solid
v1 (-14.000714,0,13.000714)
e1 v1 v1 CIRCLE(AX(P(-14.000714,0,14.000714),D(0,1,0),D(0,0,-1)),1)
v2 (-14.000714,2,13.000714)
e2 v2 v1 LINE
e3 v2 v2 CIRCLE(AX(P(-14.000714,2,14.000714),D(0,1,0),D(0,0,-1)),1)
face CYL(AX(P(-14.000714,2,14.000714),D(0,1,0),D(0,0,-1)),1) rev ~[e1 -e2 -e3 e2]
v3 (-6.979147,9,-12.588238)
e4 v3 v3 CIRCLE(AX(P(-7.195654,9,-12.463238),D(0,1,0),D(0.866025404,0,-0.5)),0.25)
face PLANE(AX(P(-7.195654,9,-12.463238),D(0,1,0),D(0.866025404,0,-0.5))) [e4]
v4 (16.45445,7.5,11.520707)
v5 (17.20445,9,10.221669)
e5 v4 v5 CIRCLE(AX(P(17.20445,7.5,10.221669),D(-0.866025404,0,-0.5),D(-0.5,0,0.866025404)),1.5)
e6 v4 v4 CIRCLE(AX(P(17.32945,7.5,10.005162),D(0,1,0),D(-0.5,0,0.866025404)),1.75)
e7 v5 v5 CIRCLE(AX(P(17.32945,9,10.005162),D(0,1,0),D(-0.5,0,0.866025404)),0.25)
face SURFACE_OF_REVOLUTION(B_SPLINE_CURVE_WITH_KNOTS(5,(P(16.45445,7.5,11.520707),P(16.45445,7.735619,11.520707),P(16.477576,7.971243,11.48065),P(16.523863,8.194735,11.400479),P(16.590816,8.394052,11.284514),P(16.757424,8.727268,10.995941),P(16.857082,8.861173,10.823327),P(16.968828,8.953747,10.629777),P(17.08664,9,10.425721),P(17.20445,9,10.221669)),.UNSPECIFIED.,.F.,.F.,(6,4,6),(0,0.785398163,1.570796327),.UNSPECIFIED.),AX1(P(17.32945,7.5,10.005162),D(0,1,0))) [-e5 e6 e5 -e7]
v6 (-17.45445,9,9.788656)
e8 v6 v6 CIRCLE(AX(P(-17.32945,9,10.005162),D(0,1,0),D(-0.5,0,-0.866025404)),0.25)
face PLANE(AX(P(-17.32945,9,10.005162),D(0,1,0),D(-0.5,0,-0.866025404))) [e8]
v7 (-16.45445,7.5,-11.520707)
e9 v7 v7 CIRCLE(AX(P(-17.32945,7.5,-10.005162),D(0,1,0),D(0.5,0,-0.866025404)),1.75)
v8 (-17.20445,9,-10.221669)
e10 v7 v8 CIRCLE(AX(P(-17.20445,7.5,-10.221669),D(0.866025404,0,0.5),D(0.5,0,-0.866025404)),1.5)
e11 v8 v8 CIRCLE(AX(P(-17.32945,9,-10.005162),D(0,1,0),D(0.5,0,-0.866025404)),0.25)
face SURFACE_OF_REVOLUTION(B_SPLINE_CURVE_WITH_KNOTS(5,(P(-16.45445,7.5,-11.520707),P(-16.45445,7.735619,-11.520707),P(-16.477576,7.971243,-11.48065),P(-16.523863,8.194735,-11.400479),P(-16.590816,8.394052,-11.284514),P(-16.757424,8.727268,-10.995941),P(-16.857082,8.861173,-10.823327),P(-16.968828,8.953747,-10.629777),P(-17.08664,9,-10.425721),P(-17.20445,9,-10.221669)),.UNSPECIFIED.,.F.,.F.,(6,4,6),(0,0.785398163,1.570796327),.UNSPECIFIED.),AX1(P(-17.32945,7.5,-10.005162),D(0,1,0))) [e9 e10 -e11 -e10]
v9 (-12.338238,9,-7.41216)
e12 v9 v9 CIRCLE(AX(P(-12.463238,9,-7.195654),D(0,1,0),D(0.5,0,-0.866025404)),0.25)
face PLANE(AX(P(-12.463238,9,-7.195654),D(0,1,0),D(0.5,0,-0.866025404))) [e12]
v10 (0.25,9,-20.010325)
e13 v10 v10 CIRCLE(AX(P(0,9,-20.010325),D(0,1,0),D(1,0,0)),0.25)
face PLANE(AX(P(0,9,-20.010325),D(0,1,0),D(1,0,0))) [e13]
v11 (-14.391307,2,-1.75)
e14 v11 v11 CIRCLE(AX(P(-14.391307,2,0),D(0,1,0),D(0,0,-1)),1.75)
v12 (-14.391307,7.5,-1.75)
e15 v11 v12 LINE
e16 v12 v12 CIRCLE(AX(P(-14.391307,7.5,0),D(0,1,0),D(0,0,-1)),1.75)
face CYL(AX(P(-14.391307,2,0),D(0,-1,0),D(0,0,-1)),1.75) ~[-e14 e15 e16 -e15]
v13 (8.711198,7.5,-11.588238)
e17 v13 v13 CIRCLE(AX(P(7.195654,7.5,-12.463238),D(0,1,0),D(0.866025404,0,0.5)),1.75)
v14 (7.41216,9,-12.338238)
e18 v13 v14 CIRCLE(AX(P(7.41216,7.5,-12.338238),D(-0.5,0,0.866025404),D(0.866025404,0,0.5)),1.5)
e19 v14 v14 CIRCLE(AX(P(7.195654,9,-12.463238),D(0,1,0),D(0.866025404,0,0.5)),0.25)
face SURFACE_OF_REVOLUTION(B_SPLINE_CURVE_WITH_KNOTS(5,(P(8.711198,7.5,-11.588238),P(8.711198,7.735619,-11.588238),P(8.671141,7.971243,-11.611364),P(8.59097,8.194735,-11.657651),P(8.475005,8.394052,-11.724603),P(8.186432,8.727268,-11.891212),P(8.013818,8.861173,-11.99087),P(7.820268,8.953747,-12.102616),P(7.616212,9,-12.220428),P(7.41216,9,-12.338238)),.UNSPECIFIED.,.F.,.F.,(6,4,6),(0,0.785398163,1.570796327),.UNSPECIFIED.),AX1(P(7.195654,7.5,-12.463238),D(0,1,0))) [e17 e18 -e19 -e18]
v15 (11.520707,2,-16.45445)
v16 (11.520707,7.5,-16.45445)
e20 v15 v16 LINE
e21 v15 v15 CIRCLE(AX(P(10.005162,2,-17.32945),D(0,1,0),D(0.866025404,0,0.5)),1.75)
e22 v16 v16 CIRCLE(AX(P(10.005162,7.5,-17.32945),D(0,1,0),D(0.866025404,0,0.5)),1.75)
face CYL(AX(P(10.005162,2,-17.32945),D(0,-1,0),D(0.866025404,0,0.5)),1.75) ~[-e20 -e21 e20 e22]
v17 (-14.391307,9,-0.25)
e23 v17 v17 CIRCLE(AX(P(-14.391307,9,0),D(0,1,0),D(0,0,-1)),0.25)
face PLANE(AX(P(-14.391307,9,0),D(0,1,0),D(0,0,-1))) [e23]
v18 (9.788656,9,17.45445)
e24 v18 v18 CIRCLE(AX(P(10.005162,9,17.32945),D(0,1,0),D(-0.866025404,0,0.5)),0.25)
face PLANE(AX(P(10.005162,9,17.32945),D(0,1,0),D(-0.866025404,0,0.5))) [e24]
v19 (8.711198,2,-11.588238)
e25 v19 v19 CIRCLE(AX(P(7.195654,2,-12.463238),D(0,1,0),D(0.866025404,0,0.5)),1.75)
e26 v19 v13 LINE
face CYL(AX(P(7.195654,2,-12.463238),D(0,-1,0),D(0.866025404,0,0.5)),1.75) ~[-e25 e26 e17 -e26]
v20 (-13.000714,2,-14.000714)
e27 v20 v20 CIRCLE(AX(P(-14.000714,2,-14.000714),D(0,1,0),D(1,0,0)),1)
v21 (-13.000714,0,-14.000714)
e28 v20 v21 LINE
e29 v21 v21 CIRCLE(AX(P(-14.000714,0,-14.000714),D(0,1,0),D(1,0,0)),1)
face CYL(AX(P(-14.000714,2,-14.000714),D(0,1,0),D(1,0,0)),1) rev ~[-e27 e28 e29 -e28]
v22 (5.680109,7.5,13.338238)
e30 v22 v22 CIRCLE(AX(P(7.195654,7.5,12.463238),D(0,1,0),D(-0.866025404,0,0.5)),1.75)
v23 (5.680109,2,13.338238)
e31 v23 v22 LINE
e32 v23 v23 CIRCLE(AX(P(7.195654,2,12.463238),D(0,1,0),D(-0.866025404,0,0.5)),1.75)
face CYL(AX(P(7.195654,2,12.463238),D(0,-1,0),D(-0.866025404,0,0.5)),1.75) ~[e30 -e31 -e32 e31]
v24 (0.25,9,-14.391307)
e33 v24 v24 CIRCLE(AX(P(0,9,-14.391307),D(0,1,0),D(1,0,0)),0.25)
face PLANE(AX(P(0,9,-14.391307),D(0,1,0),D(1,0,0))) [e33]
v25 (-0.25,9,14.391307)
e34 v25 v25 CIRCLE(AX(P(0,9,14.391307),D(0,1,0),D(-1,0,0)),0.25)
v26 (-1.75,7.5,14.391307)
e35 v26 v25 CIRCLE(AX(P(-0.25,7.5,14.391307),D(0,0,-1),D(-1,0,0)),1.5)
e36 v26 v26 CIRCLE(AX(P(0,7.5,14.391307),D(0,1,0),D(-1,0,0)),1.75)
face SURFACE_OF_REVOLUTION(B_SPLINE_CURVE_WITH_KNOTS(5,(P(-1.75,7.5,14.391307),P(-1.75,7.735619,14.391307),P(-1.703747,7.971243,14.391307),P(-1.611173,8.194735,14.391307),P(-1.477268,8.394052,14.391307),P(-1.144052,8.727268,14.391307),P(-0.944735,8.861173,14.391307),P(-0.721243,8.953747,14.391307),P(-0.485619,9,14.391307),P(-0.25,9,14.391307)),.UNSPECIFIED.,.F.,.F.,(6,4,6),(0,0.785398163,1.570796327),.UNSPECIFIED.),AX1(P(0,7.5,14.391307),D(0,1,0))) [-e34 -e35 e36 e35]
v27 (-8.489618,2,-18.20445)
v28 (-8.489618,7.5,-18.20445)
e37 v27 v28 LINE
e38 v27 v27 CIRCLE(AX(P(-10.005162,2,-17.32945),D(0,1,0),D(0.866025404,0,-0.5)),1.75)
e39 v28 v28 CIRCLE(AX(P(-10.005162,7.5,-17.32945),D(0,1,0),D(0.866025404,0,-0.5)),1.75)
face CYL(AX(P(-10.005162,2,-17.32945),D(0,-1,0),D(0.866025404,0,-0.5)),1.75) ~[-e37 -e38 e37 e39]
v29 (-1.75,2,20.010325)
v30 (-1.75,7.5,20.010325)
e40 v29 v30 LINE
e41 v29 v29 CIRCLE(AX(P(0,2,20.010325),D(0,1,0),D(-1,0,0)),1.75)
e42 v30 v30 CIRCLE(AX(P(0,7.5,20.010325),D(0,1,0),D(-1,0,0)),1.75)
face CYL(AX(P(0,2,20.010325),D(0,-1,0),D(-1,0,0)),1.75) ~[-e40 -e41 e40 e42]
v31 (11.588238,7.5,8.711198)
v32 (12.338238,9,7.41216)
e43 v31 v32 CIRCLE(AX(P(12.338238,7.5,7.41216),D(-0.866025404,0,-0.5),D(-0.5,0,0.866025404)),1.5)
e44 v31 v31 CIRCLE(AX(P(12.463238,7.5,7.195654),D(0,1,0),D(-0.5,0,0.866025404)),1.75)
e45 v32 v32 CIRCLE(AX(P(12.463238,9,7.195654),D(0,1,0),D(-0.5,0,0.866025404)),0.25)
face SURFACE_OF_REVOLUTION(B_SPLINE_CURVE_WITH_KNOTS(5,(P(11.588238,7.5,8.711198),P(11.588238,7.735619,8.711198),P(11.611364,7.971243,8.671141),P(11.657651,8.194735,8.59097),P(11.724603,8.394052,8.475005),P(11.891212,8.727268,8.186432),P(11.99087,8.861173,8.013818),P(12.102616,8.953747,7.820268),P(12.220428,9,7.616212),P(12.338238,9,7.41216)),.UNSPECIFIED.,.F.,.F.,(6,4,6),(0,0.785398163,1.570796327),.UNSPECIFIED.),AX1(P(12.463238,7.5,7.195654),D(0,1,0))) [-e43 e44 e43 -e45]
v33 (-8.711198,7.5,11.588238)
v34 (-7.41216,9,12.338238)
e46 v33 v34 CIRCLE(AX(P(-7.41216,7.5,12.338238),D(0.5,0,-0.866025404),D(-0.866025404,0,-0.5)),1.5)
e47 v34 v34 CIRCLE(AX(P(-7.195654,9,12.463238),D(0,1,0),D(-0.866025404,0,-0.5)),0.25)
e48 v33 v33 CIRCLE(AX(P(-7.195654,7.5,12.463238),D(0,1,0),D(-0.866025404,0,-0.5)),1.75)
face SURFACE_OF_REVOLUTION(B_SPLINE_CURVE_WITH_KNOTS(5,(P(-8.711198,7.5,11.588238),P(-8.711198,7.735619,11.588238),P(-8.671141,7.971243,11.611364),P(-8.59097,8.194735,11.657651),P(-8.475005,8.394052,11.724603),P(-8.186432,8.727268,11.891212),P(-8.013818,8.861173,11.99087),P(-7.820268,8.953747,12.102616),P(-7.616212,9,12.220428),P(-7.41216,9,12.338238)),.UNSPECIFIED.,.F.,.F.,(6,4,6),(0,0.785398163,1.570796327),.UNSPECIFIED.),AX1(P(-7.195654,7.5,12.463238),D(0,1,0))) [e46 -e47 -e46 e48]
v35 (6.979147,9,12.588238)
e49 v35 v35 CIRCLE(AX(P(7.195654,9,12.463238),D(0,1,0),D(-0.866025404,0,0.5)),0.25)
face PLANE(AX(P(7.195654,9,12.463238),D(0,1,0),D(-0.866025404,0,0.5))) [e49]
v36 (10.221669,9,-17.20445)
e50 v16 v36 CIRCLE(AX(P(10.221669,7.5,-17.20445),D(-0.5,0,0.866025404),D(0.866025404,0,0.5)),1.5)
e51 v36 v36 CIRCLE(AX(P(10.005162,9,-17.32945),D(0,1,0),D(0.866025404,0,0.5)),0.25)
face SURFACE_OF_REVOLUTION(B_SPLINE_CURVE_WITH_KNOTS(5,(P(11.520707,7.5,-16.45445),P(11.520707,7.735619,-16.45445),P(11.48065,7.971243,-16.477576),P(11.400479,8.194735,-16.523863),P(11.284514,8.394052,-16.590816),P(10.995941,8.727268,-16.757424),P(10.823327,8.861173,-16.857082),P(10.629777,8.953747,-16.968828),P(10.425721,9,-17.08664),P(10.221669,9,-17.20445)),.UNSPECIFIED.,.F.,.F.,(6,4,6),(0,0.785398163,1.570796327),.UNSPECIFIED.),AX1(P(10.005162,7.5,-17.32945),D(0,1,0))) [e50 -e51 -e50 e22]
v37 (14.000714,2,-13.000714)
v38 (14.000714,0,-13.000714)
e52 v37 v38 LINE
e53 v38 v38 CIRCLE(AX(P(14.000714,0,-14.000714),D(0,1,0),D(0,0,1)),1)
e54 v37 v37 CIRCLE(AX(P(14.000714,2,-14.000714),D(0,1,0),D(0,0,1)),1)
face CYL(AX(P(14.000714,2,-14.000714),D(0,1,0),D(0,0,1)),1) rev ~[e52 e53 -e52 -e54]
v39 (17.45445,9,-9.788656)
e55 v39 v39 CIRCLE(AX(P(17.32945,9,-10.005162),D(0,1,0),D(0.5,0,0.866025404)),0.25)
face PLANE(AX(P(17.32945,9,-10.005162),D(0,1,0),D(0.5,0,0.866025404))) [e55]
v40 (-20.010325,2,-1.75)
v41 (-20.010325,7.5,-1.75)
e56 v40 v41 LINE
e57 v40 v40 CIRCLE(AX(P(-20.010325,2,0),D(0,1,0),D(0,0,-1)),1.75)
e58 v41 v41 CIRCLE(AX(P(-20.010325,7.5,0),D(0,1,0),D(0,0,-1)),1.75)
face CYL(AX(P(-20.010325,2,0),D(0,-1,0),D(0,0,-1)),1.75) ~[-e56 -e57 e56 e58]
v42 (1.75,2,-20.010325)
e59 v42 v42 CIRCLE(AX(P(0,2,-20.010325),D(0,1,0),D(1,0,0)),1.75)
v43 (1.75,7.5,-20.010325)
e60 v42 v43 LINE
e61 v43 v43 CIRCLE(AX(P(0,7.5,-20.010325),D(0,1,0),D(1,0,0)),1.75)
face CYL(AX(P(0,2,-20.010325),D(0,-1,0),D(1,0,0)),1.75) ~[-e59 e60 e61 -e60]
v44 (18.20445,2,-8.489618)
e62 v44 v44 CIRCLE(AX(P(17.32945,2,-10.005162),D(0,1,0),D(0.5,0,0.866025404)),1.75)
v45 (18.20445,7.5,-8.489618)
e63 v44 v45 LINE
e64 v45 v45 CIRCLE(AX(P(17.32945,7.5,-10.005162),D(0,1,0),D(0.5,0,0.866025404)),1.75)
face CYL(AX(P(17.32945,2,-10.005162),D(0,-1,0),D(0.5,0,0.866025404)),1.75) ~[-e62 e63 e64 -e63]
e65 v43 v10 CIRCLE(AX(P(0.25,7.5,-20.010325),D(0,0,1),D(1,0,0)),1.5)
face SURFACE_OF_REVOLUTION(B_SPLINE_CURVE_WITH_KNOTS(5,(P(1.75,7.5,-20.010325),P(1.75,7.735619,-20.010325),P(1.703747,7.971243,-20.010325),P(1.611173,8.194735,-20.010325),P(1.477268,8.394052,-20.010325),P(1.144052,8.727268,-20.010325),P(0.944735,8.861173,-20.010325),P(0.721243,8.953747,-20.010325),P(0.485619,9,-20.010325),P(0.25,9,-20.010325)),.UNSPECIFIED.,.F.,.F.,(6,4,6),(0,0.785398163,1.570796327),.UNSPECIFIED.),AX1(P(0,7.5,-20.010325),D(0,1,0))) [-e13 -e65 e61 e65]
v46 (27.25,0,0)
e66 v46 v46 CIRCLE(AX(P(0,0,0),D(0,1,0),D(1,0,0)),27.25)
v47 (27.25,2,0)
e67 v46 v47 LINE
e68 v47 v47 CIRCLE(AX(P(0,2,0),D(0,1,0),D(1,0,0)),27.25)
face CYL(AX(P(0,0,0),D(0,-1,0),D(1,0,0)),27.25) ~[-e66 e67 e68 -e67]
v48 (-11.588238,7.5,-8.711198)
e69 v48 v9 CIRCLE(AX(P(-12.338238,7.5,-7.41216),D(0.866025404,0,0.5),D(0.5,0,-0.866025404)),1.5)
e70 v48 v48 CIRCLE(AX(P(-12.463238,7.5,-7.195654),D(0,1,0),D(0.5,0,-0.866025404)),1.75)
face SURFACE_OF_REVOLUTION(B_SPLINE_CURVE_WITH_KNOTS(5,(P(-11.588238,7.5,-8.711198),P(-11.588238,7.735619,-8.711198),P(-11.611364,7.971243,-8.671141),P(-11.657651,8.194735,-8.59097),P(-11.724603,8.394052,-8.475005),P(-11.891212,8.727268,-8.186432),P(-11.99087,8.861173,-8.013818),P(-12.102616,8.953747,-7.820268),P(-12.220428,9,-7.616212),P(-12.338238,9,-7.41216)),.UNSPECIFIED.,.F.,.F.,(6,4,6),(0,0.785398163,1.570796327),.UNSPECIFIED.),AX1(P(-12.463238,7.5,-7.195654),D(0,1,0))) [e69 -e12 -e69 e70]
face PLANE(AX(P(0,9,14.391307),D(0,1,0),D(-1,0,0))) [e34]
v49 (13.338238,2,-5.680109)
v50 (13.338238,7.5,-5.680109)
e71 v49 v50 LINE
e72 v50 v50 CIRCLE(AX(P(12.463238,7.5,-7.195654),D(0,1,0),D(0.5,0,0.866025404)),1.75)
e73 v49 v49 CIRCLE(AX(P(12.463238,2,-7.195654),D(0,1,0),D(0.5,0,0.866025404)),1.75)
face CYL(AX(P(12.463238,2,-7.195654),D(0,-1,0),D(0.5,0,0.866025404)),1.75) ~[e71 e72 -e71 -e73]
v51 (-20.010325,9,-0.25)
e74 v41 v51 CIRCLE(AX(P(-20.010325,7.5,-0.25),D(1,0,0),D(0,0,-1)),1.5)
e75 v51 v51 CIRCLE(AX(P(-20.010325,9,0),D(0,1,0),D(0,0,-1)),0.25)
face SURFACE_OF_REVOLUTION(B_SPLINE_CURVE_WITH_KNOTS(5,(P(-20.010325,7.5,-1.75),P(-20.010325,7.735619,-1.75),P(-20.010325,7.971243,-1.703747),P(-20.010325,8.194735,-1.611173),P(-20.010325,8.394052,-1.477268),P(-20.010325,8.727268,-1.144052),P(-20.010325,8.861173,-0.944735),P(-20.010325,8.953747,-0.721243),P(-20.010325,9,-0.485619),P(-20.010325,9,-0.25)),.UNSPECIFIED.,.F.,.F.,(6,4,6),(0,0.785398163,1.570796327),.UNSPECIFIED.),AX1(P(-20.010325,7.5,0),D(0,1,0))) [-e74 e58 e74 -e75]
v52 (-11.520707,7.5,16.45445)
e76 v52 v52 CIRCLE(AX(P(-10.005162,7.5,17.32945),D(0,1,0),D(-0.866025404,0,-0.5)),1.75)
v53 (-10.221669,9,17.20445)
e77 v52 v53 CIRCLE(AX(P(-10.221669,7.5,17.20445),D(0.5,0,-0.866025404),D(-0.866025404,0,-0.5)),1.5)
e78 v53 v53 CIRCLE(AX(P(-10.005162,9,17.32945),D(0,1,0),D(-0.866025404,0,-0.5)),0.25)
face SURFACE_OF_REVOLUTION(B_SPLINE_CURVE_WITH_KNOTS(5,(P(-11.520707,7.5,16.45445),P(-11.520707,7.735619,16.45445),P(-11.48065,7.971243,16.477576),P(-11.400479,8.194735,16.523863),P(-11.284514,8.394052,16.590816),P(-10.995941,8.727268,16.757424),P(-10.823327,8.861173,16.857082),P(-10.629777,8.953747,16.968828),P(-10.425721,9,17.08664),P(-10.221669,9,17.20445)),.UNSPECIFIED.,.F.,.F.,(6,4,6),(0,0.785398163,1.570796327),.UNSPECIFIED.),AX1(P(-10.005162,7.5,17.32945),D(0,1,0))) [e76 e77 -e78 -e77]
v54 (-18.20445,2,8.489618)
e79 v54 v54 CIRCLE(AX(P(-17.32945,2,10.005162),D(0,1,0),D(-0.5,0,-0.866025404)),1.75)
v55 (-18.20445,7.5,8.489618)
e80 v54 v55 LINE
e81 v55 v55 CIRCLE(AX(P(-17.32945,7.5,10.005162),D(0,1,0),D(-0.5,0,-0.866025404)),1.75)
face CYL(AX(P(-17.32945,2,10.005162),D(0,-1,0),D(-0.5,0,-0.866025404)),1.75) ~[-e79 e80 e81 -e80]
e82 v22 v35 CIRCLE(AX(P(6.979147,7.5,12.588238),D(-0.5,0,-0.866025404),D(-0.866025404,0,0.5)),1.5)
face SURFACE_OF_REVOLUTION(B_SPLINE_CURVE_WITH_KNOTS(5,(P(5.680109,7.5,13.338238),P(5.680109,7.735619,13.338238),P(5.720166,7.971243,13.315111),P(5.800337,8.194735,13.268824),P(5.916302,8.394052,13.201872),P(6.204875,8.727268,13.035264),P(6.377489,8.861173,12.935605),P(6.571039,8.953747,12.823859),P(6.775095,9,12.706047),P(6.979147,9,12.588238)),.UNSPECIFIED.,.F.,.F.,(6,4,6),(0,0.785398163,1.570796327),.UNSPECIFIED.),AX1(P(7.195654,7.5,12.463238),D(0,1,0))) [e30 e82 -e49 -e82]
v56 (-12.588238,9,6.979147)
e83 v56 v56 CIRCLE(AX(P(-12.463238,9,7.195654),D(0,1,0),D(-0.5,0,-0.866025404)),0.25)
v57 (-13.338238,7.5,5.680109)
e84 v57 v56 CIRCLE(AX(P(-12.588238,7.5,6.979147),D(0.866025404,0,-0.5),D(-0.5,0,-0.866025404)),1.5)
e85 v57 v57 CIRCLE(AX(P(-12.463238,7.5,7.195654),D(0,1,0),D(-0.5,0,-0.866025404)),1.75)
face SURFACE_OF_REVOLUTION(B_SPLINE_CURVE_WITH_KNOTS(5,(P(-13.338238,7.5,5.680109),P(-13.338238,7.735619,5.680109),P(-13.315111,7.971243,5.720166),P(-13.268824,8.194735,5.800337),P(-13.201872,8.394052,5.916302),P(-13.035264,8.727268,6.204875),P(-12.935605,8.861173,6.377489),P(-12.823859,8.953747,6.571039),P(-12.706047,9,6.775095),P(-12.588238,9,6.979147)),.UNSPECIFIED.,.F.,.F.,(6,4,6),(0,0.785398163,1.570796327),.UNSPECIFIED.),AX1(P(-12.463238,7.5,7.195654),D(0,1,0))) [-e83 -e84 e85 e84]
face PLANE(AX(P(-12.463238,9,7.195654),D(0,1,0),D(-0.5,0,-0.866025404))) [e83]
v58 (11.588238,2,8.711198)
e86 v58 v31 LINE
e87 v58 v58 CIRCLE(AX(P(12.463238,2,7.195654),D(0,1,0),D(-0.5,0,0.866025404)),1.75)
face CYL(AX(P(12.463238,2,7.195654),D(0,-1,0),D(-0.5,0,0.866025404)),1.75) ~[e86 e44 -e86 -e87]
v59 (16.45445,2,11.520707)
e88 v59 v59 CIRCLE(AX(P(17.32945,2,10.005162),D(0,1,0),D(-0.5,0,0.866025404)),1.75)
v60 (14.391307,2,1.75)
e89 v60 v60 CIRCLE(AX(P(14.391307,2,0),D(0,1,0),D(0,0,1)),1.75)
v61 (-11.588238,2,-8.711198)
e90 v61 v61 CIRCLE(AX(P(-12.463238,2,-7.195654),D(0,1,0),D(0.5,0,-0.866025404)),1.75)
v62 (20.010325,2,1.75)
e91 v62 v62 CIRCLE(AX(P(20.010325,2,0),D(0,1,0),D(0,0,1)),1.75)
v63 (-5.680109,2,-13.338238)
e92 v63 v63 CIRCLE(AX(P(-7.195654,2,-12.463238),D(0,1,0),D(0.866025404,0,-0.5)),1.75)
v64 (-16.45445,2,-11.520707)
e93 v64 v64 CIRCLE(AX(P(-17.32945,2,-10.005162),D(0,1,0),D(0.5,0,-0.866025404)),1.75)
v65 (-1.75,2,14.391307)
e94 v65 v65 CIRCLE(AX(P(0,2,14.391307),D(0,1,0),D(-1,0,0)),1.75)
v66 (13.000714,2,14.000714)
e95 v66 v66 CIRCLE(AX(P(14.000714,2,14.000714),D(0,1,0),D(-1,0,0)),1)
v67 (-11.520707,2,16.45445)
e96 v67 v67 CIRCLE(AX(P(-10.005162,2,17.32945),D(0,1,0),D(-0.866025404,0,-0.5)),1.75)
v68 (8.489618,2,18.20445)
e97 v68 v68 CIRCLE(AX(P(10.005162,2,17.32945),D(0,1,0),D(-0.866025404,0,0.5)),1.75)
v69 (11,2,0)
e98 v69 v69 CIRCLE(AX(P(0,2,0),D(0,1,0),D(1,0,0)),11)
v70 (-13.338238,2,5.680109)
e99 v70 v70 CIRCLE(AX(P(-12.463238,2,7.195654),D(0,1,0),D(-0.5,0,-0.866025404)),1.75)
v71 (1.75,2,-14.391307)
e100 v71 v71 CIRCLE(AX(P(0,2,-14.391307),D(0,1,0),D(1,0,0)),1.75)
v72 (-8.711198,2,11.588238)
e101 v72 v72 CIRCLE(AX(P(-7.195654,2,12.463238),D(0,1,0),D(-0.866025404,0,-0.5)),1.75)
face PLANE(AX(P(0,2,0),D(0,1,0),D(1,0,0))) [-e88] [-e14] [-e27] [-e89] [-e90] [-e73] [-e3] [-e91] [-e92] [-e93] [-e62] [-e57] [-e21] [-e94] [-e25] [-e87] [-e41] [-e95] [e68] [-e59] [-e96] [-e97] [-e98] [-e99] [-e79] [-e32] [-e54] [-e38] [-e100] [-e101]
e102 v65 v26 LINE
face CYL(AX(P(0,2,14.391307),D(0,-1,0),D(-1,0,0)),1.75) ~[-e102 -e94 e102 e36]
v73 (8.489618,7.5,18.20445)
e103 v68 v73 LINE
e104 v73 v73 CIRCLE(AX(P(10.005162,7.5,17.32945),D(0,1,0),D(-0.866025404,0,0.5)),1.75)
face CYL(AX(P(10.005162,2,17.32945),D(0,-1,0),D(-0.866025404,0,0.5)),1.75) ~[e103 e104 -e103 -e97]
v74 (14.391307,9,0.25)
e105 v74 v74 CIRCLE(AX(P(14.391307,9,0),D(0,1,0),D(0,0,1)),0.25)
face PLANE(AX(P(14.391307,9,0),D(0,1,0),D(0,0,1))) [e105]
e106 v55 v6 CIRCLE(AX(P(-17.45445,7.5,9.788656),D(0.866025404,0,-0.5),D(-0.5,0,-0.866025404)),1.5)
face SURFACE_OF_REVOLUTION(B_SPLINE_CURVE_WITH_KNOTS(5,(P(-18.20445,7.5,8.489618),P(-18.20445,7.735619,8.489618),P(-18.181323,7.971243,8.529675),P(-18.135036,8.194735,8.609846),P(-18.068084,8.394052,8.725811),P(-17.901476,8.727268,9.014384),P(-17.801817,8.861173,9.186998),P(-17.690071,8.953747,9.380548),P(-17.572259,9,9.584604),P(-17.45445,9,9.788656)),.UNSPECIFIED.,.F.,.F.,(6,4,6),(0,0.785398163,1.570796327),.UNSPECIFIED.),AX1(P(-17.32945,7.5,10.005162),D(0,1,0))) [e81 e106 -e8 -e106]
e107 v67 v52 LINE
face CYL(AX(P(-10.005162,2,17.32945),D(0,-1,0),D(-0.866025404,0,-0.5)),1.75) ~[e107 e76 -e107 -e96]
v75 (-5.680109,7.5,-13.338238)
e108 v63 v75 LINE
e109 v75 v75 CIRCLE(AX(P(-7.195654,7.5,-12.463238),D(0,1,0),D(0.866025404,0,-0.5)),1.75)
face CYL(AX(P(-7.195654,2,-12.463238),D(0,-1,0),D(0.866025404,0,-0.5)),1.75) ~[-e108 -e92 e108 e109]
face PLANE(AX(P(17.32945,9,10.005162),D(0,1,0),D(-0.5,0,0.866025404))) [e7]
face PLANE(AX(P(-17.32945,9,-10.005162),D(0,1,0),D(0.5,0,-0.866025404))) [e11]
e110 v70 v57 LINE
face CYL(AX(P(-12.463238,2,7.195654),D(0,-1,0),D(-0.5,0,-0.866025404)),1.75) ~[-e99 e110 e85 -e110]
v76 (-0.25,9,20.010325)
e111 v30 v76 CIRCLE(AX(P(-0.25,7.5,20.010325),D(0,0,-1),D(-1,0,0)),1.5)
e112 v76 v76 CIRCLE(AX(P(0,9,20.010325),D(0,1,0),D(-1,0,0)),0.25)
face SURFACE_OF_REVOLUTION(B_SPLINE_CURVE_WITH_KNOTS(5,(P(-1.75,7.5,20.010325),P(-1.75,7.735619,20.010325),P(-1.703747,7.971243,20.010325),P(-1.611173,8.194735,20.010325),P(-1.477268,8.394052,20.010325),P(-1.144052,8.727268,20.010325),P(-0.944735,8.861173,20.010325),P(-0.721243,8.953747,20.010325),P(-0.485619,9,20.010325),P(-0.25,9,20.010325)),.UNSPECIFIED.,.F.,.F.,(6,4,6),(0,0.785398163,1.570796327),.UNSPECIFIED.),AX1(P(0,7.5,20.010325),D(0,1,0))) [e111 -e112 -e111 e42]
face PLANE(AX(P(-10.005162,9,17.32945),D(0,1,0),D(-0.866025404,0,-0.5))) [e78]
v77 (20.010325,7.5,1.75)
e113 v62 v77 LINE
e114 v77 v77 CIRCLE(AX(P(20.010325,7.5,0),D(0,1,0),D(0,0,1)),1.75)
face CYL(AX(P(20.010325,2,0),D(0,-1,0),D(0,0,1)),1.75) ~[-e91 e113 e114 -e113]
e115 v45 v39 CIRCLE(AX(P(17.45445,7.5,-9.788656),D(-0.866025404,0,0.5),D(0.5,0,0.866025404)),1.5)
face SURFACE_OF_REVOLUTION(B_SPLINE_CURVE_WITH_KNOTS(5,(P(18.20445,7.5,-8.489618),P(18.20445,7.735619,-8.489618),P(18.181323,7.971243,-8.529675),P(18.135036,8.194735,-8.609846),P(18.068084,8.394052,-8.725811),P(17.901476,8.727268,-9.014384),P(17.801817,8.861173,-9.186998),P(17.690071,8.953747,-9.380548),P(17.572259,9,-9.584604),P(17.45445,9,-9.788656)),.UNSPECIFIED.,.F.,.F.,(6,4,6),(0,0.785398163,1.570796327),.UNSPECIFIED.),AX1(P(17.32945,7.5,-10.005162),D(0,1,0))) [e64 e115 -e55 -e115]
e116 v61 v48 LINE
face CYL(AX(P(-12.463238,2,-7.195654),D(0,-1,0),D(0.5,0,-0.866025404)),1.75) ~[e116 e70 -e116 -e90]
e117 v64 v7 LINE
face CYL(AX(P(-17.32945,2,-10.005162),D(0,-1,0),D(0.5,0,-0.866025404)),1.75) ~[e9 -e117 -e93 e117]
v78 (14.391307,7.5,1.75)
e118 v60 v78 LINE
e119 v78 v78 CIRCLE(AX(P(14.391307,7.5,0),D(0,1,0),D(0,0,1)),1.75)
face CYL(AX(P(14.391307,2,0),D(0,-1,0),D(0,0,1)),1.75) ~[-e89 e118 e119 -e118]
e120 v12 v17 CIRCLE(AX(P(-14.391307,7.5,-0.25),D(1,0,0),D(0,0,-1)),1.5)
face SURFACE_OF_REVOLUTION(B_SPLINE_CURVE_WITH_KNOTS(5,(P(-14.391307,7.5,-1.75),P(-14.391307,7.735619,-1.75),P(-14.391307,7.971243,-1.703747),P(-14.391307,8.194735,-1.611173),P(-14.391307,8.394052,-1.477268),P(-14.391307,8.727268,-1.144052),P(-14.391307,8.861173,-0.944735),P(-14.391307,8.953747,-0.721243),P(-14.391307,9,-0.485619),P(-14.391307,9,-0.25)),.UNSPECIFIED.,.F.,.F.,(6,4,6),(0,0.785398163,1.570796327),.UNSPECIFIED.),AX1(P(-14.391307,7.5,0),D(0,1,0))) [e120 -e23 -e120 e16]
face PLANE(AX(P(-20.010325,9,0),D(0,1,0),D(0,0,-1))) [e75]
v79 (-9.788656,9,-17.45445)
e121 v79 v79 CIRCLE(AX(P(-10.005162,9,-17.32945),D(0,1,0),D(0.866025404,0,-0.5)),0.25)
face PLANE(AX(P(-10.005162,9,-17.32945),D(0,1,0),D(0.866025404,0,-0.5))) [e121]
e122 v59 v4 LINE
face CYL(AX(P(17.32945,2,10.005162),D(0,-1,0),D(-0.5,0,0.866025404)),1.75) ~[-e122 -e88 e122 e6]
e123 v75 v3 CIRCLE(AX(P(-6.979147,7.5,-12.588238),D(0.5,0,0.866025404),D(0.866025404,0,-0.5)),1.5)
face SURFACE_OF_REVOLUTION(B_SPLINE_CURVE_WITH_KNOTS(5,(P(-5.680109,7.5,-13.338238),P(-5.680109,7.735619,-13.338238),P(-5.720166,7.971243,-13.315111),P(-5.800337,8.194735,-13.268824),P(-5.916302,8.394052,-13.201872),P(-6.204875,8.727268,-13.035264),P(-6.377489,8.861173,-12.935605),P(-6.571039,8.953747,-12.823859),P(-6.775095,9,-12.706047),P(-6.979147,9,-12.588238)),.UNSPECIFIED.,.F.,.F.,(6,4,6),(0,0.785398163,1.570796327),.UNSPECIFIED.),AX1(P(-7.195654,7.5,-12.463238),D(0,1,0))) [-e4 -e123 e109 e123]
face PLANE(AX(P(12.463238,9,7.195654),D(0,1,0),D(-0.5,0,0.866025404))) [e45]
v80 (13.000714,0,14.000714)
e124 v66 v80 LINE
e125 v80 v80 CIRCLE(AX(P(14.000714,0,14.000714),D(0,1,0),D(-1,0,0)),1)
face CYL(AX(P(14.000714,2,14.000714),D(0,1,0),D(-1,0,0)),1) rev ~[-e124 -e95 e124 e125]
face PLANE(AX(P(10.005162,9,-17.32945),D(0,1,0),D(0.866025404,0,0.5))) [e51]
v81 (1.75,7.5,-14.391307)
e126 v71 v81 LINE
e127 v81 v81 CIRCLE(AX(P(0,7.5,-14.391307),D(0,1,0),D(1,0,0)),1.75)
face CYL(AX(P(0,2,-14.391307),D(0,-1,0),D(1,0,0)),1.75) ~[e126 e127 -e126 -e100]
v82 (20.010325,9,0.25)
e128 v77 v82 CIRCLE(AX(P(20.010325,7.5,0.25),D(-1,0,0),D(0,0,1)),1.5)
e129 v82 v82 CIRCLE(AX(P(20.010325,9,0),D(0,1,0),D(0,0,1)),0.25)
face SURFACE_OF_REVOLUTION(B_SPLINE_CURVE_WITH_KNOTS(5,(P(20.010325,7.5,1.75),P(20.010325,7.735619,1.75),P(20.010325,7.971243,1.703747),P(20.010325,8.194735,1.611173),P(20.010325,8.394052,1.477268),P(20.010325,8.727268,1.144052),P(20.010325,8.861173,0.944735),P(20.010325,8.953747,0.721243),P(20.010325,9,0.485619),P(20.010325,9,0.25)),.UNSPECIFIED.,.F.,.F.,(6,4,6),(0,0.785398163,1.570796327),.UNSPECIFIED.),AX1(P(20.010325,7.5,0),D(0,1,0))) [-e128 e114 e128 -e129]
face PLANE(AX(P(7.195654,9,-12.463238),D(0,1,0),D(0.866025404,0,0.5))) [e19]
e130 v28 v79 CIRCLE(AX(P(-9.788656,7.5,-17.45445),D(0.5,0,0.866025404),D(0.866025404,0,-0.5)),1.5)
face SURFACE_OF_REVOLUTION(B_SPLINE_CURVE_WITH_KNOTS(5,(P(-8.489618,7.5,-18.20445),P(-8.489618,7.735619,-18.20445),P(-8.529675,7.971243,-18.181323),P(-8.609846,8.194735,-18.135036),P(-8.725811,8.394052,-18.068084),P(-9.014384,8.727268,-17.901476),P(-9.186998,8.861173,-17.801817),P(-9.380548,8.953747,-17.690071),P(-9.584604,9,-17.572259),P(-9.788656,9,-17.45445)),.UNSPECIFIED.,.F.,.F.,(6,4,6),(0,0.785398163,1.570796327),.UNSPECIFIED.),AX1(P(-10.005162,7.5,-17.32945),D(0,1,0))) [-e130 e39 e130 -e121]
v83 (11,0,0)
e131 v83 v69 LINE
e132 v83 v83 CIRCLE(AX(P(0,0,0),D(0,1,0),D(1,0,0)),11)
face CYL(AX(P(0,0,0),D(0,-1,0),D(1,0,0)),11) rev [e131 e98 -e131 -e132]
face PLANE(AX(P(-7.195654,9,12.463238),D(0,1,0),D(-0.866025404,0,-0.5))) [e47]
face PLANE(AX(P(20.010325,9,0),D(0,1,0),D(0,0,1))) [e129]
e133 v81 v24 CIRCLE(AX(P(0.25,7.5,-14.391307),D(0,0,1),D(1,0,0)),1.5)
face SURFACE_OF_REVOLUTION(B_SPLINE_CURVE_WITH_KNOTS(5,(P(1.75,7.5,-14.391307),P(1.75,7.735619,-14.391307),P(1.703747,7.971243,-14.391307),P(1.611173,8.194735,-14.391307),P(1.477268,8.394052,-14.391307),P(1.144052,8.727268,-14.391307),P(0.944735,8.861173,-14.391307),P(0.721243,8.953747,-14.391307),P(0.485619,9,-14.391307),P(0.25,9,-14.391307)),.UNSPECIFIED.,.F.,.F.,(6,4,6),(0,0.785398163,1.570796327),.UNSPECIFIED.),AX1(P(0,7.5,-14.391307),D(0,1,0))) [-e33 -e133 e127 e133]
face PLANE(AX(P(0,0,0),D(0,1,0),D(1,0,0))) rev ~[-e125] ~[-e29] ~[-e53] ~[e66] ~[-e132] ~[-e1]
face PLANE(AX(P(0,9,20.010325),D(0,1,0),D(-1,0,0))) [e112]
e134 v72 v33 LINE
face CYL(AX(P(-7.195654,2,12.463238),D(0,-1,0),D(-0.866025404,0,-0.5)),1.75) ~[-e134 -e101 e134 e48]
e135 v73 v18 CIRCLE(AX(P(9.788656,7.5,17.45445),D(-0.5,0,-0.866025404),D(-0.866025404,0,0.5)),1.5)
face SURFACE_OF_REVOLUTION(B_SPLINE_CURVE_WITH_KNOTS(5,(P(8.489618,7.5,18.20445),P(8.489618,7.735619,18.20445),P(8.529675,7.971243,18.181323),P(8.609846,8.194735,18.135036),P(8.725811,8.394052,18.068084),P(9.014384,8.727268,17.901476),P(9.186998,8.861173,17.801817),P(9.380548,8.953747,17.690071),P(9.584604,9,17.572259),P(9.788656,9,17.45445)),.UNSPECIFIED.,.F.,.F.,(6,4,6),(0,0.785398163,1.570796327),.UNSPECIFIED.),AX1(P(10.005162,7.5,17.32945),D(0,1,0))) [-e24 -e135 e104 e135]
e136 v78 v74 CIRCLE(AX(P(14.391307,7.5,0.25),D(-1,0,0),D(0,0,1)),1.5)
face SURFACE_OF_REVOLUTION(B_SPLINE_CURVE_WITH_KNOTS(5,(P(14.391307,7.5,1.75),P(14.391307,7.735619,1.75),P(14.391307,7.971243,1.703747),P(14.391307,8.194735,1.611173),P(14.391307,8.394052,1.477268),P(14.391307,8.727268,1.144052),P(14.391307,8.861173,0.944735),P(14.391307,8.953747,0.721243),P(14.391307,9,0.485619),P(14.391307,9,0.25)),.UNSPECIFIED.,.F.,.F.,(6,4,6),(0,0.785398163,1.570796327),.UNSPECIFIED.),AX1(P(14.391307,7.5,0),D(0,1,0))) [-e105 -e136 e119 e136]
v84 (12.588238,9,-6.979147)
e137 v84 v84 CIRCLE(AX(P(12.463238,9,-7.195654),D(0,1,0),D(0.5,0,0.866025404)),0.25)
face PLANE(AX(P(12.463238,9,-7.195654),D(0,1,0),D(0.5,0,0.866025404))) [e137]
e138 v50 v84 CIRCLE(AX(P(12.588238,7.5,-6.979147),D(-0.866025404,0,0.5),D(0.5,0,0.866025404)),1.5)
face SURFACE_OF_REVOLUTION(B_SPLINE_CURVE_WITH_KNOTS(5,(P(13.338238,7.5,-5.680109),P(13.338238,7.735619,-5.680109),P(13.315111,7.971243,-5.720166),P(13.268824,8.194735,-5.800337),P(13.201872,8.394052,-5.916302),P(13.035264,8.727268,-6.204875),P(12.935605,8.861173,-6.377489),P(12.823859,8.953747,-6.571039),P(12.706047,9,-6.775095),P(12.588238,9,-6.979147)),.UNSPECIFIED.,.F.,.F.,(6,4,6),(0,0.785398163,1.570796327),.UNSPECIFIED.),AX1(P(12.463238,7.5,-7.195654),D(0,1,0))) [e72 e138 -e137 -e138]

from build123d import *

# Parameters (mm, degrees)
SKETCH1_R                = 27.25
SKETCH1_R_2              = 11
BOSS_EXTRUDE1_DEPTH      = 2
SKETCH2_R                = 1.75
BOSS_EXTRUDE2_DEPTH      = 7
SKETCH3_R                = 1
CUT_EXTRUDE1_DEPTH       = 3
CIRPATTERN1_COUNT        = 4
FILLET1_R                = 1.5
CIRPATTERN2_COUNT        = 12
FILLET1_OF_CIRPATTERN2_R = 1.5


with BuildPart() as part:
    # Sketch1 → Boss-Extrude1 (new body)
    with BuildSketch(Plane(origin=(0, 0, 0), x_dir=(1, 0, 0), z_dir=(0, 1, 0))):
        Circle(SKETCH1_R)
        Circle(SKETCH1_R_2, mode=Mode.SUBTRACT)
    extrude(amount=BOSS_EXTRUDE1_DEPTH)

    # Sketch2 → Boss-Extrude2 (add)
    with BuildSketch(Plane(origin=(0, 2, 0), x_dir=(1, 0, 0), z_dir=(0, 1, 0))):
        with Locations((0, 14.391307105)):
            Circle(SKETCH2_R)
        with Locations((0, 20.010324854)):
            Circle(SKETCH2_R)
    boss_extrude2 = extrude(amount=BOSS_EXTRUDE2_DEPTH)

    # Sketch3 → Cut-Extrude1 (cut, through all)
    with BuildSketch(Plane(origin=(0, 2, 0), x_dir=(1, 0, 0), z_dir=(0, 1, 0))):
        with Locations((-14.000714267, 14.000714267)):
            Circle(SKETCH3_R)
    cut_extrude1 = extrude(amount=-CUT_EXTRUDE1_DEPTH, mode=Mode.SUBTRACT)

    # CirPattern1: Cut-Extrude1 ×4 about axis
    cirpattern1_axis = Axis((0, 0, 0), (0, 1, 0))
    for i in range(1, CIRPATTERN1_COUNT):
        add(cut_extrude1.rotate(cirpattern1_axis, i * 360 / CIRPATTERN1_COUNT), mode=Mode.SUBTRACT)

    # Fillet1
    fillet1_edges = [part.edges().sort_by_distance(p)[0] for p in [
        (-1.75, 9, -14.391307105),
        (-1.75, 9, -20.010324854),
    ]]
    fillet(fillet1_edges, radius=FILLET1_R)

    # CirPattern2: Boss-Extrude2 ×12 about axis
    cirpattern2_axis = Axis((0, 0, 0), (0, 1, 0))
    for i in range(1, CIRPATTERN2_COUNT):
        add(boss_extrude2.rotate(cirpattern2_axis, i * 360 / CIRPATTERN2_COUNT))

    # Fillet1 of CirPattern2
    fillet1_of_cirpattern2_edges = [part.edges().sort_by_distance(p)[0] for p in [
        (-8.711198009, 9, -11.588237546),
        (-11.520706884, 9, -16.454449662),
        (-13.338237546, 9, -5.680109096),
        (-18.204449662, 9, -8.48961797),
        (-14.391307105, 9, 1.75),
        (-20.010324854, 9, 1.75),
        (-11.588237546, 9, 8.711198009),
        (-16.454449662, 9, 11.520706884),
        (-5.680109096, 9, 13.338237546),
        (-8.48961797, 9, 18.204449662),
        (1.75, 9, 14.391307105),
        (1.75, 9, 20.010324854),
        (8.711198009, 9, 11.588237546),
        (11.520706884, 9, 16.454449662),
        (13.338237546, 9, 5.680109096),
        (18.204449662, 9, 8.48961797),
        (14.391307105, 9, -1.75),
        (20.010324854, 9, -1.75),
        (11.588237546, 9, -8.711198009),
        (16.454449662, 9, -11.520706884),
        (5.680109096, 9, -13.338237546),
        (8.48961797, 9, -18.204449662),
    ]]
    fillet(fillet1_of_cirpattern2_edges, radius=FILLET1_OF_CIRPATTERN2_R)


solid = part.part
